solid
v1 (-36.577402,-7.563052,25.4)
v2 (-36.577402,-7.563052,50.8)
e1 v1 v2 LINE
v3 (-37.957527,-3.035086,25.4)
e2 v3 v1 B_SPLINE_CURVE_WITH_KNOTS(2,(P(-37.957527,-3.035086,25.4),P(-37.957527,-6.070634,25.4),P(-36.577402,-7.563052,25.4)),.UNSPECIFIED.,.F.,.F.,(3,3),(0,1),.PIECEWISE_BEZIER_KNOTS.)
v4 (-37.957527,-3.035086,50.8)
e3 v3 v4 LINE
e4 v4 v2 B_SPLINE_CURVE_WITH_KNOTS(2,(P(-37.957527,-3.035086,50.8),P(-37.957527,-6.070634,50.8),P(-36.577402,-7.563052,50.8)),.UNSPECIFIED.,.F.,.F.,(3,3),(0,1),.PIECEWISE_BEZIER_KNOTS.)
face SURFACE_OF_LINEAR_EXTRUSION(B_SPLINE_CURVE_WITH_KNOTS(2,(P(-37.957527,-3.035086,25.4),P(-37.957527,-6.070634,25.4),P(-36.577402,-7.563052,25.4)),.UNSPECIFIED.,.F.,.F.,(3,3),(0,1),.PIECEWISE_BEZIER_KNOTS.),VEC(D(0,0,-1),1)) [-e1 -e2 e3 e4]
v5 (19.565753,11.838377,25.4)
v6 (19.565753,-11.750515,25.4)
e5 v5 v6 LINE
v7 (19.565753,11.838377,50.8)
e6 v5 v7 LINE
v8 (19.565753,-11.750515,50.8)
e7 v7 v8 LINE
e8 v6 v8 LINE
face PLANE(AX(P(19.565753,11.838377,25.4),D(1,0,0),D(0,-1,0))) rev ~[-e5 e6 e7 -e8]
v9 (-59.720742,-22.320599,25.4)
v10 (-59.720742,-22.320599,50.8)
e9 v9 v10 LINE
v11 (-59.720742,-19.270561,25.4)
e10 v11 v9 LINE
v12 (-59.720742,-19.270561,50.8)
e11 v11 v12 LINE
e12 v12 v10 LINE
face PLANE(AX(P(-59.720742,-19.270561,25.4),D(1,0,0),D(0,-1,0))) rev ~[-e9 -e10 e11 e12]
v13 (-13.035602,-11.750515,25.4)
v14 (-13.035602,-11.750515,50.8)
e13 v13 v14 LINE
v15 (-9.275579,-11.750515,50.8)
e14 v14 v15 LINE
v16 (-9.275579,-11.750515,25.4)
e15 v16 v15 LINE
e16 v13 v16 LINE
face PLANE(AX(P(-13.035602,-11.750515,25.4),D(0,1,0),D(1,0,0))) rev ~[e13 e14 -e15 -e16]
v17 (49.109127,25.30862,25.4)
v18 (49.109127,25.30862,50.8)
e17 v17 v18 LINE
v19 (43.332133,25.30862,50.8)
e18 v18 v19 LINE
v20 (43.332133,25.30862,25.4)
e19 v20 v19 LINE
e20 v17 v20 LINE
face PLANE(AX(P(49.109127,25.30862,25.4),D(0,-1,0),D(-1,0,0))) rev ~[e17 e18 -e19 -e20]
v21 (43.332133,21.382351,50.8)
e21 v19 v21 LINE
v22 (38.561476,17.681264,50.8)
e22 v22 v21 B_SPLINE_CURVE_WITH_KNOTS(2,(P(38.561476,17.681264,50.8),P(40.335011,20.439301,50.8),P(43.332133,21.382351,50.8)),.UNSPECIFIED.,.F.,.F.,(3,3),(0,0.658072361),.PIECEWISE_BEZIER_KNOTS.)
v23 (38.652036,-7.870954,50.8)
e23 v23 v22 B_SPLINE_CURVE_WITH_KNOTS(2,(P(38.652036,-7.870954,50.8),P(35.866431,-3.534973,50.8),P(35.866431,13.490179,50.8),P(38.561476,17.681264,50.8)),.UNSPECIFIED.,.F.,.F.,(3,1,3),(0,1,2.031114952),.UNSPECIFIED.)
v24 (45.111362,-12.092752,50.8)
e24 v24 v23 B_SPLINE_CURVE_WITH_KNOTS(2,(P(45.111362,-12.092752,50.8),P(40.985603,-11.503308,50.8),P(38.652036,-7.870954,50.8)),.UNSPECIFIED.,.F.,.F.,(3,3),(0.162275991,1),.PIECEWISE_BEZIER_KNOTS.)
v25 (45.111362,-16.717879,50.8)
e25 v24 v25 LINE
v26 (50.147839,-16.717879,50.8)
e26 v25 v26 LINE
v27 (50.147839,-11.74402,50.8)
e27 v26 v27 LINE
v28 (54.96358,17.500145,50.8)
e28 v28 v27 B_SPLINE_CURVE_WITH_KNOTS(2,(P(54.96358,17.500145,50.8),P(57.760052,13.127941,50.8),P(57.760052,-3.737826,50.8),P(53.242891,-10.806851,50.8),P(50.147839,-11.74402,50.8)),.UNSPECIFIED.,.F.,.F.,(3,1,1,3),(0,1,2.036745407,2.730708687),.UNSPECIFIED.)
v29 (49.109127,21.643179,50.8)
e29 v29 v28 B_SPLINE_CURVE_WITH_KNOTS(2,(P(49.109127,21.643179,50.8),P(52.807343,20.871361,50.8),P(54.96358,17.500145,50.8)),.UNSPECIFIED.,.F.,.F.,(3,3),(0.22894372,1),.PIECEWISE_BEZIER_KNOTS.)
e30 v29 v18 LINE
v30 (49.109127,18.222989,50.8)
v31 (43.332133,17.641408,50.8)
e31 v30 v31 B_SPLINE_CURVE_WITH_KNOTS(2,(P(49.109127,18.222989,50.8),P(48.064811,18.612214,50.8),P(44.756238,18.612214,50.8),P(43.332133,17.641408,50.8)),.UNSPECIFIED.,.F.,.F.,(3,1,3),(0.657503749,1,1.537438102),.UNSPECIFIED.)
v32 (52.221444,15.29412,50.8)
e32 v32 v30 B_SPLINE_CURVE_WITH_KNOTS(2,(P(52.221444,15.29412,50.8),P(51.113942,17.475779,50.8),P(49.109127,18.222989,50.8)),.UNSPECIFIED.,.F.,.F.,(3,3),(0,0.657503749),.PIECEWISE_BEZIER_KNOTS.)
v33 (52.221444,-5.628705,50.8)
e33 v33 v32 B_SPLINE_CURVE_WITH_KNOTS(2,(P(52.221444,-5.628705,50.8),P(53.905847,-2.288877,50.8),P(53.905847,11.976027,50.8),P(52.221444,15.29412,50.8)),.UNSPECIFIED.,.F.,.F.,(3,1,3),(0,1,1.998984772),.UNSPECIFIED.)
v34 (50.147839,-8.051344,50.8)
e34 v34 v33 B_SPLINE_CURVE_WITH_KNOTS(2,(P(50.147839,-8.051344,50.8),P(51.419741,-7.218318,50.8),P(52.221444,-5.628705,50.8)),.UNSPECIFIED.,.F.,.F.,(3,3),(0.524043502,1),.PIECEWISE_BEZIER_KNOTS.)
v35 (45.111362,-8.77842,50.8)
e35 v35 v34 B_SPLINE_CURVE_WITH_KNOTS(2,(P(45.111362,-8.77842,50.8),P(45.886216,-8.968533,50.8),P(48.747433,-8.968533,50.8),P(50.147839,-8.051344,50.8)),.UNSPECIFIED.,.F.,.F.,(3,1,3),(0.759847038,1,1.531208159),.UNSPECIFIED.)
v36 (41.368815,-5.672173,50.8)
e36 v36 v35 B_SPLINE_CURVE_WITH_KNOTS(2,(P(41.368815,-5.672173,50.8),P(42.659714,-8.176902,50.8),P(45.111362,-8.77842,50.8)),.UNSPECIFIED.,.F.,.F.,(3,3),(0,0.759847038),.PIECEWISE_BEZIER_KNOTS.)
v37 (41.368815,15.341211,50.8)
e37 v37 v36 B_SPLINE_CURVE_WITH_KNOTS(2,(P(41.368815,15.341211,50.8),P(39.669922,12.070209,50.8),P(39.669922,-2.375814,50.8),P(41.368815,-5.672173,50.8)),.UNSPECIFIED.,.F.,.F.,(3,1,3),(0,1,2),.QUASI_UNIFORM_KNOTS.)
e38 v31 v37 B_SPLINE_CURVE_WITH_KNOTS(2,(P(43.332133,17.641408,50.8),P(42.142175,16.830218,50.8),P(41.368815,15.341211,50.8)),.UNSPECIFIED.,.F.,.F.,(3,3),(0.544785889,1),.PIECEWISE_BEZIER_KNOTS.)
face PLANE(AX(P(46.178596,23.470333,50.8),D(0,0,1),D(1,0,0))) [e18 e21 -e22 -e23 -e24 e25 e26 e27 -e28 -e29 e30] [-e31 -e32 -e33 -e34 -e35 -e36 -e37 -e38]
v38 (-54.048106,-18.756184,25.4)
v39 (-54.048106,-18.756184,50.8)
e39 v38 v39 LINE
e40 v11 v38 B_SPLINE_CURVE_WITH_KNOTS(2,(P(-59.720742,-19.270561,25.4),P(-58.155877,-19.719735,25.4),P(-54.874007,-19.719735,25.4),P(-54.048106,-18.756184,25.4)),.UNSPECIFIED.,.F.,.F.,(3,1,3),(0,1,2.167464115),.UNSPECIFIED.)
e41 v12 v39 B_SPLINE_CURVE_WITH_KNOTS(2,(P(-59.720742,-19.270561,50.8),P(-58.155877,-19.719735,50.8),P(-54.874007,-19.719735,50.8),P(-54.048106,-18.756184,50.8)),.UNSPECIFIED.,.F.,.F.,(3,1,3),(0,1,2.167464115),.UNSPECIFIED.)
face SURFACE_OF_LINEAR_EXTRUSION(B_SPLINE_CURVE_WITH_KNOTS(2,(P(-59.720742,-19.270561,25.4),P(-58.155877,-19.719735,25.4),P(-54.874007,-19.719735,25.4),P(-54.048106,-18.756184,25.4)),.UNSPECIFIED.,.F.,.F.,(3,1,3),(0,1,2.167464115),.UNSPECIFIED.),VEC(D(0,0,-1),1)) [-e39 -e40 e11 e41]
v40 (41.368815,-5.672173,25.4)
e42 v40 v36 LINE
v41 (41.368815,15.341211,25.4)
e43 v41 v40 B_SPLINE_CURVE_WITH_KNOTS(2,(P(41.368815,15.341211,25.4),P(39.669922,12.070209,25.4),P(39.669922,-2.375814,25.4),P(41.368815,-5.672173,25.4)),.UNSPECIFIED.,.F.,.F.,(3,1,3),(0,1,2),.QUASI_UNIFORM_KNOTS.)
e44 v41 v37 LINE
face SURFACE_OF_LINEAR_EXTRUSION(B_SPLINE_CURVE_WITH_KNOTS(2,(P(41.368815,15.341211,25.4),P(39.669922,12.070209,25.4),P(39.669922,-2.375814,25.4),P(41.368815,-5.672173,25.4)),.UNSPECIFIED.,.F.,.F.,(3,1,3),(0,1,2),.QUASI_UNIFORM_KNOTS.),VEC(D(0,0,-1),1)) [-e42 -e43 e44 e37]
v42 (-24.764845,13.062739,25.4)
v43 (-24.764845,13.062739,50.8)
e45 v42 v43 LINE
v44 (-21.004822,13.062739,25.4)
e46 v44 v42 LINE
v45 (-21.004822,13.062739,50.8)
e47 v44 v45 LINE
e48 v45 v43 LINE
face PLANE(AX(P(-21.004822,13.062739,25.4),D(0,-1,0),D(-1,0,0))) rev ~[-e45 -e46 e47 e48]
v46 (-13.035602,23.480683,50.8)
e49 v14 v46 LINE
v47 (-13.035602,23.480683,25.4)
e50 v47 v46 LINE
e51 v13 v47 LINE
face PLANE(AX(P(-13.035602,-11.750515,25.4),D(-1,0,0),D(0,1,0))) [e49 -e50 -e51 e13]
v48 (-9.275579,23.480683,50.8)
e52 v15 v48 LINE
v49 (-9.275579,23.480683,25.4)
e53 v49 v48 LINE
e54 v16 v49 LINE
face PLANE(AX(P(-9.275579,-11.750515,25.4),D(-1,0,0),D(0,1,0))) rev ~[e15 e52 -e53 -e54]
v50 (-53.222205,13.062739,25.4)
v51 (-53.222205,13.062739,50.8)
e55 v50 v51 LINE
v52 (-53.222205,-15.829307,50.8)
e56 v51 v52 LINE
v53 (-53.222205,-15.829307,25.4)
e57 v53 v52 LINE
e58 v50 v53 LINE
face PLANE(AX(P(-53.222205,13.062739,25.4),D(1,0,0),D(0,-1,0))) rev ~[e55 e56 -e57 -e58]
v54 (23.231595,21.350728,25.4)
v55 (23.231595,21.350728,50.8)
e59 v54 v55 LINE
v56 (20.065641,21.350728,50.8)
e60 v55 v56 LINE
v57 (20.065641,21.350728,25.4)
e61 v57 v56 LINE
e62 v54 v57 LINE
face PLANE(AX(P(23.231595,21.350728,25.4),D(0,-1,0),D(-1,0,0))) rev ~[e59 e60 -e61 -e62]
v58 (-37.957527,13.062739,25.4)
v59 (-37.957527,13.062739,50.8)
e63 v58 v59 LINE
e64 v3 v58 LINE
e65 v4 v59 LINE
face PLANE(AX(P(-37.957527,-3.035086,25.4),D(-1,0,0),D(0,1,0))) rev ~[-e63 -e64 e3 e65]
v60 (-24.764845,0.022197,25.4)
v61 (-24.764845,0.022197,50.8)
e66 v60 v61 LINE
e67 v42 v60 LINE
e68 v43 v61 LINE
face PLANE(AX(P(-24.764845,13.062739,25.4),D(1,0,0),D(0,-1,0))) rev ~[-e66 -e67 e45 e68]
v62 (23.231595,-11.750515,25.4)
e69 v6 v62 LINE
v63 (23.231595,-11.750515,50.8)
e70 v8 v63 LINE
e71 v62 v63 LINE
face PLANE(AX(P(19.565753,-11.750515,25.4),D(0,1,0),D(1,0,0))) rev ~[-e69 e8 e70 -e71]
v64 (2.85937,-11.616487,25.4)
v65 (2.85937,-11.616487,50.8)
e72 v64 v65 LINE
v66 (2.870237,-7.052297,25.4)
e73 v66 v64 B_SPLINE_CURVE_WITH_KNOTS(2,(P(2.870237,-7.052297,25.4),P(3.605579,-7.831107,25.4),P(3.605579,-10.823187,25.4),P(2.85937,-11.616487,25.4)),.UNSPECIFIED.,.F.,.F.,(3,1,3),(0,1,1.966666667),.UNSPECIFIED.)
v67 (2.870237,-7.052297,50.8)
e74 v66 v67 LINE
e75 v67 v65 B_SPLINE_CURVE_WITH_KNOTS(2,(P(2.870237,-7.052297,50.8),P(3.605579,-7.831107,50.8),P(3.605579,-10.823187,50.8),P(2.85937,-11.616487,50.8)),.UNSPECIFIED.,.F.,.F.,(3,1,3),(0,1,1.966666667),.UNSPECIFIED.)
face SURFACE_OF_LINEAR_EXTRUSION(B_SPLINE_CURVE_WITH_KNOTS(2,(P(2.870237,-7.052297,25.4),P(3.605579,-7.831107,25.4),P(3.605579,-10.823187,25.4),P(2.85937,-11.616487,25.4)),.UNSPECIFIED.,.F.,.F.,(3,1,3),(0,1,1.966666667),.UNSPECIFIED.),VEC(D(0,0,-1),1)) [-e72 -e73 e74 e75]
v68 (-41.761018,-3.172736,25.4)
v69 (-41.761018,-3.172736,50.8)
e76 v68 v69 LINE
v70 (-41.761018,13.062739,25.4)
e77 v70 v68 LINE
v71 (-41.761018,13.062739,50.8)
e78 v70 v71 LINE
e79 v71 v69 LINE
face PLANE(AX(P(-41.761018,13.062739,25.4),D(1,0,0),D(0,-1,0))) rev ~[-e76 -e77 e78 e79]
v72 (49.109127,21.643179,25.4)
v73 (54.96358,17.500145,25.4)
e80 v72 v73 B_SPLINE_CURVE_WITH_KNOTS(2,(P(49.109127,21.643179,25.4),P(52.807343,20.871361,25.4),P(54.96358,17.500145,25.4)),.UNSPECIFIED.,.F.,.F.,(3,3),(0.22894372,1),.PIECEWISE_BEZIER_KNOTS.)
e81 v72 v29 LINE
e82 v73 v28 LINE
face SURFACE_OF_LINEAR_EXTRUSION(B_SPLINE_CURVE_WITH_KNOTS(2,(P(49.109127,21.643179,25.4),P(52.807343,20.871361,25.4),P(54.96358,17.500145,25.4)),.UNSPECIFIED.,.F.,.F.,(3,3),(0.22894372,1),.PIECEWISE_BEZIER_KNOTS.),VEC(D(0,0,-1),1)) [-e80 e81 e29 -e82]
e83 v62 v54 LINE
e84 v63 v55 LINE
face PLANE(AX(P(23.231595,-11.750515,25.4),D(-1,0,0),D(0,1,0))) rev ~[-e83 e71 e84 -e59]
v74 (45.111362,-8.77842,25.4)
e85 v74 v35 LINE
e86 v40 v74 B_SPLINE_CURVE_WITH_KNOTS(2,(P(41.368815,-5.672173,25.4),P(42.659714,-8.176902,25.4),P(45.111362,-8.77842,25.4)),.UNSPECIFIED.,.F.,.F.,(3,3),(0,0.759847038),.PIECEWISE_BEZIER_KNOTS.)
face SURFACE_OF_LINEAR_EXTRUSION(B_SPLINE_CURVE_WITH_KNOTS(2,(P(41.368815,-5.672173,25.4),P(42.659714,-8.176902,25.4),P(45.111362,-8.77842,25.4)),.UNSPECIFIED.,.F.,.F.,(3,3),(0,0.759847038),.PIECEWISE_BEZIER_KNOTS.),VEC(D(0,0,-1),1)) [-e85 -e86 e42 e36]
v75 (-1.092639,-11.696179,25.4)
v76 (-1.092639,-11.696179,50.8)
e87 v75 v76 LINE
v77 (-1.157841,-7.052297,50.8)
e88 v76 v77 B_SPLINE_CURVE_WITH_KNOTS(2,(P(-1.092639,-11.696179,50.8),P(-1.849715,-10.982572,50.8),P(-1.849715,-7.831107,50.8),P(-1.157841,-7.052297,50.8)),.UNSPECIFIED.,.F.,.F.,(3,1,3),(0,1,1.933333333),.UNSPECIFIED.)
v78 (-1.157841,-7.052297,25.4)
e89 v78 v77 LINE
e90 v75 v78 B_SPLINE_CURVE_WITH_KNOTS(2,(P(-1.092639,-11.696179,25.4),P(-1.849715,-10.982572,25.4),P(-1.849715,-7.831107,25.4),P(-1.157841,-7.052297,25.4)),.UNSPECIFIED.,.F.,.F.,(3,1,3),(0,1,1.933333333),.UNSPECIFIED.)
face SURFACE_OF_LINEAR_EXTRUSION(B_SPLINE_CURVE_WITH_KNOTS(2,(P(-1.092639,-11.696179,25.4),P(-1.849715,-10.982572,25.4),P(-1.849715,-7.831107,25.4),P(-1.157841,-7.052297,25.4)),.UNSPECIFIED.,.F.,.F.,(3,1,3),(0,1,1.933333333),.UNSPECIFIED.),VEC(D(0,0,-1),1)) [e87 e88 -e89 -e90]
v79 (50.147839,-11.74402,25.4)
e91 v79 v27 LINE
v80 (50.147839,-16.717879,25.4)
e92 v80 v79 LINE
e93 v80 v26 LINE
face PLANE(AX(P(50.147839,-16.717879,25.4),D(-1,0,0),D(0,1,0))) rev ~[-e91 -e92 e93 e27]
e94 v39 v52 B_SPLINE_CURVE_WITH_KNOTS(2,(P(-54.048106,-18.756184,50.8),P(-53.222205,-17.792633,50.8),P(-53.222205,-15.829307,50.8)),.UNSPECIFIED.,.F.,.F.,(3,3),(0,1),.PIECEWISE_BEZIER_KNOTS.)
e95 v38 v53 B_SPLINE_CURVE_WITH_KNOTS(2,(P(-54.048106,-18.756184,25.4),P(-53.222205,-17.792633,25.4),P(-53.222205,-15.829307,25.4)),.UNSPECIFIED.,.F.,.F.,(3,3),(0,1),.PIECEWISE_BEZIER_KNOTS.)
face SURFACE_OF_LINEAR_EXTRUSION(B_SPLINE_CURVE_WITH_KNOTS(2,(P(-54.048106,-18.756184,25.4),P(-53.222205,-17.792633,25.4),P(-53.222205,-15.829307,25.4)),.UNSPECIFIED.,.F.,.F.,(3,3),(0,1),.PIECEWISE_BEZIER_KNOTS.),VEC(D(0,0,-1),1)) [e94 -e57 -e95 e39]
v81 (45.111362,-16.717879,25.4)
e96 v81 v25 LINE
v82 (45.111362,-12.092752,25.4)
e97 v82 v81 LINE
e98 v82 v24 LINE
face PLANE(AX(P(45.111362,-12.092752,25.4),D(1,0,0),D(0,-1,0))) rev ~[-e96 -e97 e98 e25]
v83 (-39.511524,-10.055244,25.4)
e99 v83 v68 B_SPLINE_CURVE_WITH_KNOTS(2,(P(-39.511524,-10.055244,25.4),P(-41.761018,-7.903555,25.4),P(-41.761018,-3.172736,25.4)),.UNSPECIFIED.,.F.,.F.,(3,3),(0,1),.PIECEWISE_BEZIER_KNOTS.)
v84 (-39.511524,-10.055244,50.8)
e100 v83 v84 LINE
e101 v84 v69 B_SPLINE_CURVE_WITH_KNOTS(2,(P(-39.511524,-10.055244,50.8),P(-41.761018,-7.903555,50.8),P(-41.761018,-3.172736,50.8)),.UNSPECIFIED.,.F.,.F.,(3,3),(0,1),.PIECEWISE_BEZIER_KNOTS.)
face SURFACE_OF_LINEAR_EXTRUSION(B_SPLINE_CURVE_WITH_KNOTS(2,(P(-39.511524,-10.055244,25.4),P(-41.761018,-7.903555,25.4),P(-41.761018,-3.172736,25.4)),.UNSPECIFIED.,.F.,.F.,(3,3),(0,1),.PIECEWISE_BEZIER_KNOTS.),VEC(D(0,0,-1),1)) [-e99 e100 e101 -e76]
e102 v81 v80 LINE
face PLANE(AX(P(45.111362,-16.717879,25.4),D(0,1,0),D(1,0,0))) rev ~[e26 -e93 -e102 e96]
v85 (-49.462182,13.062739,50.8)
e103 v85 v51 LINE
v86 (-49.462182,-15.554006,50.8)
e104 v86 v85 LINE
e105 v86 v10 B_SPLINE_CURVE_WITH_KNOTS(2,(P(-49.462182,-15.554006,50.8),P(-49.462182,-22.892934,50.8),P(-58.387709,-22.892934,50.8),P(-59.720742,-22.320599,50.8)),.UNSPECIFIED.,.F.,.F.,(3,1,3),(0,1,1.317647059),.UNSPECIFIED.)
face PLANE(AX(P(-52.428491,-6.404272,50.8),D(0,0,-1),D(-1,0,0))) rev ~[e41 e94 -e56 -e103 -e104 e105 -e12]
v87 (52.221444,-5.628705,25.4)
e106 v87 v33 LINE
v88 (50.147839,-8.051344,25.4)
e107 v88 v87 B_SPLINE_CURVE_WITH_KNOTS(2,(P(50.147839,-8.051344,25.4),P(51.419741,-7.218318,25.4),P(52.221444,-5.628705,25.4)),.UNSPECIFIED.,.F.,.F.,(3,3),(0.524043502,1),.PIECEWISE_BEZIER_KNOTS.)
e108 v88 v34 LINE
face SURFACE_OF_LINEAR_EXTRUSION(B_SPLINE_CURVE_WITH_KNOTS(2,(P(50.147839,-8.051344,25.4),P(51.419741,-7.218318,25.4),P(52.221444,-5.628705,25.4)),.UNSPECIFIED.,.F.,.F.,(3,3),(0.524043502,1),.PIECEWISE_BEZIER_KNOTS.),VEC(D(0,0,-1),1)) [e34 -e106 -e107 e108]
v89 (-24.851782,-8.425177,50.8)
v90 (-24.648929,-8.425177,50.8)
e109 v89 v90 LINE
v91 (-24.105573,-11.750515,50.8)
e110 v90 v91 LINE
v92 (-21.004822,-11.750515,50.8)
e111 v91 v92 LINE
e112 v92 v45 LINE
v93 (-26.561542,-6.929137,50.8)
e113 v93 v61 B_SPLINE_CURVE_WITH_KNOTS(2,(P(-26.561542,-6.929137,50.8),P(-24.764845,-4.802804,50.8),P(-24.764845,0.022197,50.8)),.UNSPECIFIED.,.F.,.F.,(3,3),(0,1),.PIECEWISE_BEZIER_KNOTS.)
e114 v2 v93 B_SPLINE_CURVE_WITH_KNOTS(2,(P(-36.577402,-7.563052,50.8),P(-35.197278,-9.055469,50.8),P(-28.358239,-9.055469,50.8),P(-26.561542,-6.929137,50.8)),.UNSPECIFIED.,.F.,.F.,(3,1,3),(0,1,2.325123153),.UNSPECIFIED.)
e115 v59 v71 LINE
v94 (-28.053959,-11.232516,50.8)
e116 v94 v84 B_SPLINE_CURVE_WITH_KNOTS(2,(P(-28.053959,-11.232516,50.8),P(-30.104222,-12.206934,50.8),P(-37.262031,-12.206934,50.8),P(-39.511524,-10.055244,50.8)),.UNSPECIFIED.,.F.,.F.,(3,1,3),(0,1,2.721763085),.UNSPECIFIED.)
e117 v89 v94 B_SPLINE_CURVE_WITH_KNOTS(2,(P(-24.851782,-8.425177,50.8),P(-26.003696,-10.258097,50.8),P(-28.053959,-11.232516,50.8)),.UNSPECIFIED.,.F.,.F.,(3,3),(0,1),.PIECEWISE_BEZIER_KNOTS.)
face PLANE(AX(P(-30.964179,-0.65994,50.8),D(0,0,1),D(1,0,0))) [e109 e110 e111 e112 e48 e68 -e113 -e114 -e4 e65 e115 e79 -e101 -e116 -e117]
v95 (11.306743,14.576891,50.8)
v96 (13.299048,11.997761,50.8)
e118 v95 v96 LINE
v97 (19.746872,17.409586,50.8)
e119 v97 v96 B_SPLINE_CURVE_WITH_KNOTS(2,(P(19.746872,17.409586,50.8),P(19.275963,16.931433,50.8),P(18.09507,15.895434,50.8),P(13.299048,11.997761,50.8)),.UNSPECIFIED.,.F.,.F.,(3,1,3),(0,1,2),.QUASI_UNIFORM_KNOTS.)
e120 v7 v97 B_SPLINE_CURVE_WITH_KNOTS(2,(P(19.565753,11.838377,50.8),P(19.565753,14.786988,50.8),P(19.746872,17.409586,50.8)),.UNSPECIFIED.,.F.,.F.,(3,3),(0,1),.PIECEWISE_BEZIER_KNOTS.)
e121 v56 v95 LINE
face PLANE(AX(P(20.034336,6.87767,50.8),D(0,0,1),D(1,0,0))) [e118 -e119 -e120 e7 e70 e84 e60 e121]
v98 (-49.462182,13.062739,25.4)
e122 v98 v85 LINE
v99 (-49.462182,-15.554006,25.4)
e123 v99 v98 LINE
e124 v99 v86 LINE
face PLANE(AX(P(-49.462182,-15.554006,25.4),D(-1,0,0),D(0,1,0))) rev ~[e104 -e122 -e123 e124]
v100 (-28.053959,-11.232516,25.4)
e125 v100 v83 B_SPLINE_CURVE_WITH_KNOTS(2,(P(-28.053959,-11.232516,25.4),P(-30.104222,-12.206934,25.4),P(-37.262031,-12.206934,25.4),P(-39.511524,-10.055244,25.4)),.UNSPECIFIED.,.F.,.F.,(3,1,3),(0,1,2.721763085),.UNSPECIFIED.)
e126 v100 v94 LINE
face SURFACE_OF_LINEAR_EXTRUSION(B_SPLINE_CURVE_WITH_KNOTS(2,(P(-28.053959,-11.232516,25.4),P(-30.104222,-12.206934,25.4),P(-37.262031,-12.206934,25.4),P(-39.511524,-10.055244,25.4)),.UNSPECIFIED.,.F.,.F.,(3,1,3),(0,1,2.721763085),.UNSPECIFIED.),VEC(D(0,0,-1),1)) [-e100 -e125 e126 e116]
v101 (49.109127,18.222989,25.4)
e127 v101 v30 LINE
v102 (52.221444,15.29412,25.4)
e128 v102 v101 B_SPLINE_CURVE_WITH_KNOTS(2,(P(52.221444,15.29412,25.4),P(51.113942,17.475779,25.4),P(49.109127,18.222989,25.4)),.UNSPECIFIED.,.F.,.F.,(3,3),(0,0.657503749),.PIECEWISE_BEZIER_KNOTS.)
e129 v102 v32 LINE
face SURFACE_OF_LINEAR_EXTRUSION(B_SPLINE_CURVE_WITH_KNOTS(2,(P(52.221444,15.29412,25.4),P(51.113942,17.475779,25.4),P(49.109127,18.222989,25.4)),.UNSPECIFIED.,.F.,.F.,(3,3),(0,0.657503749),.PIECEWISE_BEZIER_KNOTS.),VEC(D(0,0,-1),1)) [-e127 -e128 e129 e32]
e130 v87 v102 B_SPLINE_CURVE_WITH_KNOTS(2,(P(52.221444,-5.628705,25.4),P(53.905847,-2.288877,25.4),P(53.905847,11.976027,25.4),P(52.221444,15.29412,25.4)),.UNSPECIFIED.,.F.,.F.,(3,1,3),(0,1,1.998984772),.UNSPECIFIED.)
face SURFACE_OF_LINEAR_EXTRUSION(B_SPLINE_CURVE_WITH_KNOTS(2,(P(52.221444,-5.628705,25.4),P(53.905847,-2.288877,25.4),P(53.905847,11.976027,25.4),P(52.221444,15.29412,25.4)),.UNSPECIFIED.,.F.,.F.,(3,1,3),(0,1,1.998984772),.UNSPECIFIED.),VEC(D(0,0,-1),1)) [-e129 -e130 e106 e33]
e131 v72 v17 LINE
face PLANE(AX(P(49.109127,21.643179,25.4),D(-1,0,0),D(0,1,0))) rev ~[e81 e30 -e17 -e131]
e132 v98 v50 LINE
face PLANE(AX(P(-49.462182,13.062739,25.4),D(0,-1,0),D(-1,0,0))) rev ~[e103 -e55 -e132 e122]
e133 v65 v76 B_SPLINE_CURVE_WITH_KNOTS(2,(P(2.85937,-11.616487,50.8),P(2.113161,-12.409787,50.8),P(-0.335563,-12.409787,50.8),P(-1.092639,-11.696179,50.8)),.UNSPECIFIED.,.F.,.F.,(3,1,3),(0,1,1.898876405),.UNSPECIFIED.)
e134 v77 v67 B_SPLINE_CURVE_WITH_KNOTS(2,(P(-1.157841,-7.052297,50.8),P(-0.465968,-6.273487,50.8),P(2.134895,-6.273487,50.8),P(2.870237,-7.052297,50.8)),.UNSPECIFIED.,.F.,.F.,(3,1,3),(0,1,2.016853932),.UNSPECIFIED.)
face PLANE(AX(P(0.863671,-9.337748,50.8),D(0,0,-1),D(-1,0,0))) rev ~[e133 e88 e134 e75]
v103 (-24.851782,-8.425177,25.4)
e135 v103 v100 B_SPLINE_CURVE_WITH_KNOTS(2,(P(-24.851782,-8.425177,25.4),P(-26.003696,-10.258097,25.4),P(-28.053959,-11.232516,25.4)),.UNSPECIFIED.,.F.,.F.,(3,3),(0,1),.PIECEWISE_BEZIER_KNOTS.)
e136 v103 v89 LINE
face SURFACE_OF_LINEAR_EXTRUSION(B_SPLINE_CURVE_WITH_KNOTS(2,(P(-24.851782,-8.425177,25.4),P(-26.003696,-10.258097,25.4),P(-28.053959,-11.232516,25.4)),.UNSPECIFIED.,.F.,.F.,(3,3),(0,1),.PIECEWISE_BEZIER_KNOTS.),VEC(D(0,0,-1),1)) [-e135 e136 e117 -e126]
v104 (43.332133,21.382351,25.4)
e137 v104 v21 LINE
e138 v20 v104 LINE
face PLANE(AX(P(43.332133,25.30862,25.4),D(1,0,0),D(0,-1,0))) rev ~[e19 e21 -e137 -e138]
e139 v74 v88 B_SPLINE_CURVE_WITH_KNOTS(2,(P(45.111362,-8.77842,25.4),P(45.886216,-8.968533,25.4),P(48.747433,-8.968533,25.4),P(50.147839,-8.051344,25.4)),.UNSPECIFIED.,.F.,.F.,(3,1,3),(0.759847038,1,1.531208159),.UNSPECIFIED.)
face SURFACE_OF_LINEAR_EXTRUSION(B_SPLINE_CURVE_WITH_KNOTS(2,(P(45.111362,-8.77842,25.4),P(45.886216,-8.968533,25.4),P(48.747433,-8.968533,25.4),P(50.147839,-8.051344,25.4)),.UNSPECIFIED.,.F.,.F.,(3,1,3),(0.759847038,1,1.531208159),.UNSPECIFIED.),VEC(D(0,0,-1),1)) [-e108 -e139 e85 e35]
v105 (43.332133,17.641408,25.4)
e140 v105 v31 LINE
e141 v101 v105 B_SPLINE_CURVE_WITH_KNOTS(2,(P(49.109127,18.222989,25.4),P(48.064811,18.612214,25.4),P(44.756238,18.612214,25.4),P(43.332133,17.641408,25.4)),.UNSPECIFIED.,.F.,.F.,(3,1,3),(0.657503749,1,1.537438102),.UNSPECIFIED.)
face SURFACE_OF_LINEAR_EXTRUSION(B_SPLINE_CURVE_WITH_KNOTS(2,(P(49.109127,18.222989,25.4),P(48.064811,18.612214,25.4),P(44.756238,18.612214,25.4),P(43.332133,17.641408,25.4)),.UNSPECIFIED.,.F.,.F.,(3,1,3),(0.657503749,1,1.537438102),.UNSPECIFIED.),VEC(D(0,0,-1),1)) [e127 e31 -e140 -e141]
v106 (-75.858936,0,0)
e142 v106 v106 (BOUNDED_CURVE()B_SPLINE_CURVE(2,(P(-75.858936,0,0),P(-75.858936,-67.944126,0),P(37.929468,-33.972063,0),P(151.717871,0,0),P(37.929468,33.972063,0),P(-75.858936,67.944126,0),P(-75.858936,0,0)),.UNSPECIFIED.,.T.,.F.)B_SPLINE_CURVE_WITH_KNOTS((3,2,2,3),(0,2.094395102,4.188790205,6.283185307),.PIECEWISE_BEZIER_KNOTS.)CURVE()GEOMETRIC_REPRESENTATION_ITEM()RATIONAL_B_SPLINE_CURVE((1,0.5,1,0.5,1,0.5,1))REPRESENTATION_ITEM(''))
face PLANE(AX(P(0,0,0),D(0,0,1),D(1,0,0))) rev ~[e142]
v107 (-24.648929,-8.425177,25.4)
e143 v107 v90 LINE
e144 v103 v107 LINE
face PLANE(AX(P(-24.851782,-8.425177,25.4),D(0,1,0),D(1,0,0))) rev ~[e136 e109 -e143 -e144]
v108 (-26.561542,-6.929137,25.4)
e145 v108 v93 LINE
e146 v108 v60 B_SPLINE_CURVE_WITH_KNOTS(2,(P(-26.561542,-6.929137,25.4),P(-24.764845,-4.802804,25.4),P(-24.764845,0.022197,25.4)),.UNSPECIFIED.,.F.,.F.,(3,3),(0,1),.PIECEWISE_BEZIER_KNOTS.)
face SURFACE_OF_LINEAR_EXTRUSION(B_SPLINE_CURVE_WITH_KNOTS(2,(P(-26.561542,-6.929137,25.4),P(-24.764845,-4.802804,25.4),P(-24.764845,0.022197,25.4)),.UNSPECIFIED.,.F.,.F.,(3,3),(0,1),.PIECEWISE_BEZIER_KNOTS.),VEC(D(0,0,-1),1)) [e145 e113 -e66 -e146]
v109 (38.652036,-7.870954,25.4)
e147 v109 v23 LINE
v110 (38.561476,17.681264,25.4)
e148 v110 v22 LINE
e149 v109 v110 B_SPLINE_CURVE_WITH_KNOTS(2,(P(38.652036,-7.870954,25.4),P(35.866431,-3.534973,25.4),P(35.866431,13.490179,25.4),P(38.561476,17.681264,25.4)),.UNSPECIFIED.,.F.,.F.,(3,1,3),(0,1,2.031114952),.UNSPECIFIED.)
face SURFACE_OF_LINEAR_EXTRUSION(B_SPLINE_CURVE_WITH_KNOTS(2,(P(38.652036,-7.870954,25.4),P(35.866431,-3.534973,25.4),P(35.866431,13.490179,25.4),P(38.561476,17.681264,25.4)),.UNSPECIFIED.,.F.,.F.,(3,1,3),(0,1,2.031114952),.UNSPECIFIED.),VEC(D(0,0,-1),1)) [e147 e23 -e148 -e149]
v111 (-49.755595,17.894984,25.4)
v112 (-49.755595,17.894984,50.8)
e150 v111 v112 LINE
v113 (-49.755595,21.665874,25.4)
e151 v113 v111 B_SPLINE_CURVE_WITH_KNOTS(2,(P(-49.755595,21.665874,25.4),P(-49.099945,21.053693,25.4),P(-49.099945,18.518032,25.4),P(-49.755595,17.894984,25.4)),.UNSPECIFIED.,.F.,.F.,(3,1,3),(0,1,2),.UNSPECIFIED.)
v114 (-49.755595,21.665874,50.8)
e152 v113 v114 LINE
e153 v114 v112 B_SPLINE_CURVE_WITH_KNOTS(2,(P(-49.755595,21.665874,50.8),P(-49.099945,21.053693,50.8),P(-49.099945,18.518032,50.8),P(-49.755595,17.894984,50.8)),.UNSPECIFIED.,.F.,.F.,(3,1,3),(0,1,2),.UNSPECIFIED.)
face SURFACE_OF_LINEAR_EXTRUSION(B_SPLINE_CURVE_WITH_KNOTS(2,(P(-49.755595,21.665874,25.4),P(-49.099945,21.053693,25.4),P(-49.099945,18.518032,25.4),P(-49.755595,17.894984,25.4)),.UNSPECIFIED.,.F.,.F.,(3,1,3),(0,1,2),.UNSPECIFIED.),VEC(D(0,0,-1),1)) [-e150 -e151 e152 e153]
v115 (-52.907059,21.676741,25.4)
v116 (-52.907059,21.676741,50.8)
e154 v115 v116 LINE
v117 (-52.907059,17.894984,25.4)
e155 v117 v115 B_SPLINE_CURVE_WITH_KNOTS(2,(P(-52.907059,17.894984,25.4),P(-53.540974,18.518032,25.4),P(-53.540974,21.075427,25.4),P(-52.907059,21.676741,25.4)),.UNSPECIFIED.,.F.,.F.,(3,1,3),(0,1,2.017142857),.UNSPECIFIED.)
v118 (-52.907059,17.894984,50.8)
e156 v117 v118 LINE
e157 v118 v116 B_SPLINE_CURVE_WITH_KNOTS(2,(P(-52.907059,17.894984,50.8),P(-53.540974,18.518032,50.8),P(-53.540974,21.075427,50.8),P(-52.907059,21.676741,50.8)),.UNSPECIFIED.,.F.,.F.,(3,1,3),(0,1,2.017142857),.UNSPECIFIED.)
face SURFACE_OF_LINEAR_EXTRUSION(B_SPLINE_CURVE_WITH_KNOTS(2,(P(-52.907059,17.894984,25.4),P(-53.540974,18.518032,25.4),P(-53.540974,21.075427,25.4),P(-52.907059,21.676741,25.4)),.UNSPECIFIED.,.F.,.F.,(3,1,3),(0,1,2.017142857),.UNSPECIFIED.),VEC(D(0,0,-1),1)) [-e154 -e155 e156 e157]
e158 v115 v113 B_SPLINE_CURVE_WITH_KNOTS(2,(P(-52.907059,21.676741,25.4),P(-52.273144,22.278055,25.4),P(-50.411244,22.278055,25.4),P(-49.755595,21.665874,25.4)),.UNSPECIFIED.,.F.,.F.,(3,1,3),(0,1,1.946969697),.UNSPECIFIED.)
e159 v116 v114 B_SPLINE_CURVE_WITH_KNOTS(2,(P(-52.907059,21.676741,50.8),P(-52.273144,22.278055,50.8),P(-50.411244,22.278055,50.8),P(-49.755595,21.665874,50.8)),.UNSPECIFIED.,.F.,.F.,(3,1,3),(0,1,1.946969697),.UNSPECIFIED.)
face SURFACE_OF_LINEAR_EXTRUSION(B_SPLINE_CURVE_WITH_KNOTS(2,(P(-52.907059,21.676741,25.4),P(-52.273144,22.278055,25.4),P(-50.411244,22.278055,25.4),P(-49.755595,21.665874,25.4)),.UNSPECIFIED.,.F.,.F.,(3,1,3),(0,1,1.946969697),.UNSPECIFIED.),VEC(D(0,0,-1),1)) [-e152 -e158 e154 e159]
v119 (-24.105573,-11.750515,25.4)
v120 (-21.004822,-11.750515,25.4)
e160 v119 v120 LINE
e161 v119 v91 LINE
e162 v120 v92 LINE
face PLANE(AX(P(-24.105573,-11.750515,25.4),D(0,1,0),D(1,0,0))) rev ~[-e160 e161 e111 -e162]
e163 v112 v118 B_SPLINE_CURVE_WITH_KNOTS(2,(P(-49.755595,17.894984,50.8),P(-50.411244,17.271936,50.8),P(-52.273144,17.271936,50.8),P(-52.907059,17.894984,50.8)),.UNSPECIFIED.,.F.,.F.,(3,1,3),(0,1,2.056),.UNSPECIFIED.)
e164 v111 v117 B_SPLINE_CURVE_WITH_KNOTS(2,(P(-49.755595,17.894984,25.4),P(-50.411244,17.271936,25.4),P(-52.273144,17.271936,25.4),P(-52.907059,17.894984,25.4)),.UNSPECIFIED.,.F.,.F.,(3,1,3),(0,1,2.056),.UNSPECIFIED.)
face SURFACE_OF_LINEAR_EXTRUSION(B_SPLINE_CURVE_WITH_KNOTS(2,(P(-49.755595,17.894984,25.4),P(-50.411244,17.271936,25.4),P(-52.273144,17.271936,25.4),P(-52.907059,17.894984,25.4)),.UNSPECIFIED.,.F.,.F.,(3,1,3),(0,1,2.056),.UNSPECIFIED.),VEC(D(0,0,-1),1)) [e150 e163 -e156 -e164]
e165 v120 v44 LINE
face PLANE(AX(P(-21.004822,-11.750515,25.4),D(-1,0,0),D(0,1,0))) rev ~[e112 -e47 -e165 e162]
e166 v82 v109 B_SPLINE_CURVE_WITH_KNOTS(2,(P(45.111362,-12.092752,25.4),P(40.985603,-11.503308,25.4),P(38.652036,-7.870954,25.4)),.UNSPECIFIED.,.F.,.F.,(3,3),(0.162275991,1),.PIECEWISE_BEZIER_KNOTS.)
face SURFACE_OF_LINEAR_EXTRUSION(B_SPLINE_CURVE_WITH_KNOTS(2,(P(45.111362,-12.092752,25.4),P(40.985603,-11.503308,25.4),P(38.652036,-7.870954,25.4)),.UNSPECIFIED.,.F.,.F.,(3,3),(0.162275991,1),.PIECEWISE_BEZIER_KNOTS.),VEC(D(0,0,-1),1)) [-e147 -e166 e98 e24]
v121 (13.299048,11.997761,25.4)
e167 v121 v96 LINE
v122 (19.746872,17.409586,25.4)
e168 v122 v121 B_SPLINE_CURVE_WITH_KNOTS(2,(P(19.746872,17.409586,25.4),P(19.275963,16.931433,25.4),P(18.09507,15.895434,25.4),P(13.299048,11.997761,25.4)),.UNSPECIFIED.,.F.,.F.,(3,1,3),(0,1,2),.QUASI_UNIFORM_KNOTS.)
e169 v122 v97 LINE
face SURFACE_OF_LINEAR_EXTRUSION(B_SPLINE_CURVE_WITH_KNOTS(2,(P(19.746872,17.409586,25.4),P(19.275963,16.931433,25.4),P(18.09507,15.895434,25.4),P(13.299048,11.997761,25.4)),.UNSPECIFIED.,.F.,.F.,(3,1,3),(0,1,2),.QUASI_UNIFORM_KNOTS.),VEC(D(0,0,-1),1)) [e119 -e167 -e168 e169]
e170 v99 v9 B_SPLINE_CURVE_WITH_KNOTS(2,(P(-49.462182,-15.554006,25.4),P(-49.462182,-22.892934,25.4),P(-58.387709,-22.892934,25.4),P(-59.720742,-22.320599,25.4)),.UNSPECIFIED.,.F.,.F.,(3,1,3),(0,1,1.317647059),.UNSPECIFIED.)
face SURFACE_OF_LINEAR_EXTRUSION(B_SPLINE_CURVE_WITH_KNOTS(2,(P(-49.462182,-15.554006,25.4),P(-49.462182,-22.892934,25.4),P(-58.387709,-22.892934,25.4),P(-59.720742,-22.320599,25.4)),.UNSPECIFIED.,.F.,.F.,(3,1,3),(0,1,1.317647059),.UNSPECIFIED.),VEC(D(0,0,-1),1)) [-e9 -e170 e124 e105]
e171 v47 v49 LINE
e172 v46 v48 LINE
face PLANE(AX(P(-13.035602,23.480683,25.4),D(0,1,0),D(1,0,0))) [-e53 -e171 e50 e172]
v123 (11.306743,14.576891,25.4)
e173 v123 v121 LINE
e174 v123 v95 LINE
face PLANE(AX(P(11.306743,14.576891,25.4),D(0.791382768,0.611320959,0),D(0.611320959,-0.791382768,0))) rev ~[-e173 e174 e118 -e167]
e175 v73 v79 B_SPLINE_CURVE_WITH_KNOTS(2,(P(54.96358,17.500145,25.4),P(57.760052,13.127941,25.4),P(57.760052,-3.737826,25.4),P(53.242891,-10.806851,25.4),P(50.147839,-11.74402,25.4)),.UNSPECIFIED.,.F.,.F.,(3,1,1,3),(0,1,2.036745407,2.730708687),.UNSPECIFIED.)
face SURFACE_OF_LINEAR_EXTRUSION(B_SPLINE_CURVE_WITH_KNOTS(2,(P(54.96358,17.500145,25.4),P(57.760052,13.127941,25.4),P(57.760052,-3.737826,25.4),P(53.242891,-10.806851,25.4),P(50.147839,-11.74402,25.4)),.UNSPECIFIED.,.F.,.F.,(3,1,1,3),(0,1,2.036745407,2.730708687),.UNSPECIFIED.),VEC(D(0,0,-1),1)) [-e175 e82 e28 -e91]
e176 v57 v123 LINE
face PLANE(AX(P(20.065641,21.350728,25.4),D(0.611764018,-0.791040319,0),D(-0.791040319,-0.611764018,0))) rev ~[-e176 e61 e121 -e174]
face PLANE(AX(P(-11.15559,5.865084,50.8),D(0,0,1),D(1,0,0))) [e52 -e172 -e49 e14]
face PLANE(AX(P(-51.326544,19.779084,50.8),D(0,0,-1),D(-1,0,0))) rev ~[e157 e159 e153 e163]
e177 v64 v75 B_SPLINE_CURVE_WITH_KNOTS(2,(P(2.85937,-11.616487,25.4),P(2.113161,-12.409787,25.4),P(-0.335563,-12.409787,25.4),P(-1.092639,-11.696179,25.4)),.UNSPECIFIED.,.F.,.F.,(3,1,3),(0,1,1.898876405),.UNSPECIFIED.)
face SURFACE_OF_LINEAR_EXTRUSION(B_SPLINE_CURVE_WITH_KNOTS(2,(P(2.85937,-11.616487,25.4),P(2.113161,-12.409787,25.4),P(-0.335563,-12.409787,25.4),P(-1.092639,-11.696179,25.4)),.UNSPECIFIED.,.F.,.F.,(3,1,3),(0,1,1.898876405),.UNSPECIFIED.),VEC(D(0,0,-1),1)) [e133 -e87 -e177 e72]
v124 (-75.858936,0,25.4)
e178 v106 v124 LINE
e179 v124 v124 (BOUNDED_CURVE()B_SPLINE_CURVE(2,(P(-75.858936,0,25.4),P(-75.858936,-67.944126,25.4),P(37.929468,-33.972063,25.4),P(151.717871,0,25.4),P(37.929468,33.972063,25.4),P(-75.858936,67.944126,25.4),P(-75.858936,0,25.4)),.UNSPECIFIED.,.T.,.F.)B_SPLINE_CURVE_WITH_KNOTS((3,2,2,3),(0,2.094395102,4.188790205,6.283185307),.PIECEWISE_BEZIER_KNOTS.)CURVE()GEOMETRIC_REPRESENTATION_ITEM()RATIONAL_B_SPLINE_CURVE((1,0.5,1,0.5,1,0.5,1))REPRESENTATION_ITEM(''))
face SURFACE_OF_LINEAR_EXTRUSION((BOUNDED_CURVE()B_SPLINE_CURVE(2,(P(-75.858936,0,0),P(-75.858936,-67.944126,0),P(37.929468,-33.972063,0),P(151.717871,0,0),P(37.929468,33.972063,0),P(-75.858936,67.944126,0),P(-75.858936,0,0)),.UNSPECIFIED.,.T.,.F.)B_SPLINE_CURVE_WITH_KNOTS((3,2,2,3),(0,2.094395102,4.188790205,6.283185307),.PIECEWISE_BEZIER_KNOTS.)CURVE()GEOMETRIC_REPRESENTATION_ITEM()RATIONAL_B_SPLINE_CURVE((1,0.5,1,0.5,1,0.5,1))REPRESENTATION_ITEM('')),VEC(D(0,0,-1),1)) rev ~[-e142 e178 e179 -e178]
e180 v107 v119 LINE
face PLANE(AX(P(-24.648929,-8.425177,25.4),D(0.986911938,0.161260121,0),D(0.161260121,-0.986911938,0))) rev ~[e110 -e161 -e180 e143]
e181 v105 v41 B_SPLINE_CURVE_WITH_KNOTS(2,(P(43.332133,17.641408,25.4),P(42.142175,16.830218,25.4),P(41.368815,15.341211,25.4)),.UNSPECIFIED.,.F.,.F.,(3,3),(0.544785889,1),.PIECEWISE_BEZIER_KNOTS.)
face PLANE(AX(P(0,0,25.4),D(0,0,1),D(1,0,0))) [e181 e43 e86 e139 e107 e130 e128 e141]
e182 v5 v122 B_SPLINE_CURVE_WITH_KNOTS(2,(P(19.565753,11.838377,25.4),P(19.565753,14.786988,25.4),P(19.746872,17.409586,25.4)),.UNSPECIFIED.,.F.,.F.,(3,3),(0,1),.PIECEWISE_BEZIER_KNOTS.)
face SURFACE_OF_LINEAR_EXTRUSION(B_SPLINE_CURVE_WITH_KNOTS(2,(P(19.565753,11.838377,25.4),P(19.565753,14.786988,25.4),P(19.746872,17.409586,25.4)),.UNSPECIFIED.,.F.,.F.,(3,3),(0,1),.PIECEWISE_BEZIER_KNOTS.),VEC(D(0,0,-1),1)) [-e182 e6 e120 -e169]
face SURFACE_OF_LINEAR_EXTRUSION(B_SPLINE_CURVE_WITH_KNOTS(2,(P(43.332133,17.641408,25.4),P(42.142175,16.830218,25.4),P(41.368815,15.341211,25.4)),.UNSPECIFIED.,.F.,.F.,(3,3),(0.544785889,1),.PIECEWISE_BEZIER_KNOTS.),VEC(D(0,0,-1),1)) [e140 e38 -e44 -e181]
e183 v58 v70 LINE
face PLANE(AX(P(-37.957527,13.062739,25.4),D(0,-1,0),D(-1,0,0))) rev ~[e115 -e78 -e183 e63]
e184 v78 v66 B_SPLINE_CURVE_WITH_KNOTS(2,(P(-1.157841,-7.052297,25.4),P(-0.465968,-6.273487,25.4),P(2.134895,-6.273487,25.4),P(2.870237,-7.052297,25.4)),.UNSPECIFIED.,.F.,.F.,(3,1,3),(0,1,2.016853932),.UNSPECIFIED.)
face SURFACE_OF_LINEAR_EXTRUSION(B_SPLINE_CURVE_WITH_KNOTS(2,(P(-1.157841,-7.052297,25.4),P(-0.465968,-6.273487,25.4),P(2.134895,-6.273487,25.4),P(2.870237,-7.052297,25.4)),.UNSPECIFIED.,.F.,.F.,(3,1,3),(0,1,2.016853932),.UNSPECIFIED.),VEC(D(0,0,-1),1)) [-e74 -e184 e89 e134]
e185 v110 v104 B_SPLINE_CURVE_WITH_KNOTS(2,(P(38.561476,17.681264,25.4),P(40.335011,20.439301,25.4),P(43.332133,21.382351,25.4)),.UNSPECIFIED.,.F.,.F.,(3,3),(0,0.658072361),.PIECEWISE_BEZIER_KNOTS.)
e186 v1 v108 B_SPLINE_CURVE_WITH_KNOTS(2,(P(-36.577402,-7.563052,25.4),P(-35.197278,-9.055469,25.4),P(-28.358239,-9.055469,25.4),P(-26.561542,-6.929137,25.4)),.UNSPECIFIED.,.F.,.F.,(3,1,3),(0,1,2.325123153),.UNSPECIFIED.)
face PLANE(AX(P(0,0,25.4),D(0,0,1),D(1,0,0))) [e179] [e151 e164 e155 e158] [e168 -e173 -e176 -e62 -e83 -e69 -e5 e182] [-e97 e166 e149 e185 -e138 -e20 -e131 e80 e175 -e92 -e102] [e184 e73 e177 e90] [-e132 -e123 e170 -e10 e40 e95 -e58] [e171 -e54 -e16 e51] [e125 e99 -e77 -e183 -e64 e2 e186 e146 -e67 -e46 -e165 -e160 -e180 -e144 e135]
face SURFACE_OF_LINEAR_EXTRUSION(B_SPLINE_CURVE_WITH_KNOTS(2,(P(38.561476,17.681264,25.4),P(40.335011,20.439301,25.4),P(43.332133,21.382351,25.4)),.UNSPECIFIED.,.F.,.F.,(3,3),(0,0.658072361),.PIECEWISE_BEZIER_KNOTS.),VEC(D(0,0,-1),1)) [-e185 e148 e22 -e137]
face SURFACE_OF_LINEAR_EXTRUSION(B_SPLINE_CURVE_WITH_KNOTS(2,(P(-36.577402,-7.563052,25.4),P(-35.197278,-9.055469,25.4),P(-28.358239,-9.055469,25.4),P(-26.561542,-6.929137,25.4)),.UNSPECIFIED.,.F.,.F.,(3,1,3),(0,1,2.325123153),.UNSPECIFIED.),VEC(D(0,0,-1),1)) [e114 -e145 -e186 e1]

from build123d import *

# Parameters (mm, degrees)
F1_DEPTH = 25.4
F2_W     = 3.7600229511
F2_H     = 35.2311977096
F3_DEPTH = 25.4


with BuildPart() as f1:
    # F0 (on Top) → F1 (new body)
    with BuildSketch(Plane.XY):
        with BuildLine():
            add(Edge.make_bspline(
                [(-75.8589357138, 0), (-75.8589357138, -67.9441261937), (37.9294678569, -33.9720630968), (151.7178714275, 0), (37.9294678569, 33.9720630968), (-75.8589357138, 67.9441261937), (-75.8589357138, 0)],
                knots=[0, 0, 0, 2.0943951024, 2.0943951024, 4.1887902048, 4.1887902048, 6.2831853072, 6.2831853072, 6.2831853072], degree=2, weights=[1, 0.5, 1, 0.5, 1, 0.5, 1]))
        make_face()
    extrude(amount=F1_DEPTH)

    # F2 (on face) → F3 (join)
    with BuildSketch(Plane.XY.offset(25.4)):
        with BuildLine():
            Line((49.1091273725, 25.3086201847), (43.3321334422, 25.3086201847))
            Line((43.3321334422, 25.3086201847), (43.3321334422, 21.3823506841))
            add(Edge.make_bspline(
                [(43.3321334422, 21.3823506841), (44.8894074559, 21.8723493721), (46.7770176638, 21.8723493721)],
                knots=[0.6580723607, 0.6580723607, 0.6580723607, 1, 1, 1], degree=2))
            add(Edge.make_bspline(
                [(46.7770176638, 21.8723493721), (48.0110450801, 21.8723493721), (49.1091273725, 21.6431793101)],
                knots=[0, 0, 0, 0.2289437199, 0.2289437199, 0.2289437199], degree=2))
            Line((49.1091273725, 21.6431793101), (49.1091273725, 25.3086201847))
        make_face()
        with BuildLine():
            add(Edge.make_bspline(
                [(43.3321334422, 21.3823506841), (44.8894074559, 21.8723493721), (46.7770176638, 21.8723493721)],
                knots=[0.6580723607, 0.6580723607, 0.6580723607, 1, 1, 1], degree=2))
            Line((43.3321334422, 21.3823506841), (43.3321334422, 17.641407551))
            add(Edge.make_bspline(
                [(46.7770176638, 18.6122138653), (44.7562380644, 18.6122138653), (43.3321334422, 17.641407551)],
                knots=[0, 0, 0, 0.5447858889, 0.5447858889, 0.5447858889], degree=2))
            add(Edge.make_bspline(
                [(49.1091273725, 18.2229892834), (48.0648114294, 18.6122138653), (46.7770176638, 18.6122138653)],
                knots=[0.6575037487, 0.6575037487, 0.6575037487, 1, 1, 1], degree=2))
            Line((49.1091273725, 18.2229892834), (49.1091273725, 21.6431793101))
            add(Edge.make_bspline(
                [(46.7770176638, 21.8723493721), (48.0110450801, 21.8723493721), (49.1091273725, 21.6431793101)],
                knots=[0, 0, 0, 0.2289437199, 0.2289437199, 0.2289437199], degree=2))
        make_face()
        with BuildLine():
            Line((43.3321334422, 17.641407551), (43.3321334422, 21.3823506841))
            add(Edge.make_bspline(
                [(38.5614761868, 17.6812640595), (40.3350110439, 20.4393014649), (43.3321334422, 21.3823506841)],
                knots=[0, 0, 0, 0.6580723607, 0.6580723607, 0.6580723607], degree=2))
            add(Edge.make_bspline(
                [(35.8664308346, 4.8471972813), (35.8664308346, 13.490178747), (38.5614761868, 17.6812640595)],
                knots=[0, 0, 0, 1, 1, 1], degree=2))
            add(Edge.make_bspline(
                [(38.6520355065, -7.8709535678), (35.8664308346, -3.5349733438), (35.8664308346, 4.8471972813)],
                knots=[0, 0, 0, 1, 1, 1], degree=2))
            add(Edge.make_bspline(
                [(45.111361891, -12.0927522689), (40.9856034206, -11.5033083055), (38.6520355065, -7.8709535678)],
                knots=[0.1622759907, 0.1622759907, 0.1622759907, 1, 1, 1], degree=2))
            Line((45.111361891, -12.0927522689), (45.111361891, -8.7784201274))
            add(Edge.make_bspline(
                [(41.3688150954, -5.6721732871), (42.6597137841, -8.1769020861), (45.111361891, -8.7784201274)],
                knots=[0, 0, 0, 0.7598470375, 0.7598470375, 0.7598470375], degree=2))
            add(Edge.make_bspline(
                [(39.6699222591, 4.8471972813), (39.6699222591, -2.3758140525), (41.3688150954, -5.6721732871)],
                knots=[0, 0, 0, 1, 1, 1], degree=2))
            add(Edge.make_bspline(
                [(41.3688150954, 15.3412112402), (39.6699222591, 12.0702086151), (39.6699222591, 4.8471972813)],
                knots=[0, 0, 0, 1, 1, 1], degree=2))
            add(Edge.make_bspline(
                [(43.3321334422, 17.641407551), (42.1421750878, 16.8302177928), (41.3688150954, 15.3412112402)],
                knots=[0.5447858889, 0.5447858889, 0.5447858889, 1, 1, 1], degree=2))
        make_face()
        with BuildLine():
            add(Edge.make_bspline(
                [(49.1091273725, 21.6431793101), (52.8073430224, 20.8713607354), (54.9635801585, 17.5001454202)],
                knots=[0.2289437199, 0.2289437199, 0.2289437199, 1, 1, 1], degree=2))
            Line((49.1091273725, 21.6431793101), (49.1091273725, 18.2229892834))
            add(Edge.make_bspline(
                [(52.2214439601, 15.294120394), (51.1139424464, 17.4757792899), (49.1091273725, 18.2229892834)],
                knots=[0, 0, 0, 0.6575037487, 0.6575037487, 0.6575037487], degree=2))
            add(Edge.make_bspline(
                [(53.9058473052, 4.8471972813), (53.9058473052, 11.9760269227), (52.2214439601, 15.294120394)],
                knots=[0, 0, 0, 1, 1, 1], degree=2))
            add(Edge.make_bspline(
                [(52.2214439601, -5.6287048137), (53.9058473052, -2.2888771057), (53.9058473052, 4.8471972813)],
                knots=[0, 0, 0, 1, 1, 1], degree=2))
            add(Edge.make_bspline(
                [(50.1478388906, -8.0513437212), (51.4197412419, -7.2183175151), (52.2214439601, -5.6287048137)],
                knots=[0.5240435015, 0.5240435015, 0.5240435015, 1, 1, 1], degree=2))
            Line((50.1478388906, -8.0513437212), (50.1478388906, -11.7440203937))
            add(Edge.make_bspline(
                [(55.0541394782, -7.9723800058), (53.2428906583, -10.8068510506), (50.1478388906, -11.7440203937)],
                knots=[0, 0, 0, 0.6693671135, 0.6693671135, 0.6693671135], degree=2))
            add(Edge.make_bspline(
                [(57.7600519488, 4.8471972813), (57.7600519488, -3.7378262198), (55.0541394782, -7.9723800058)],
                knots=[0, 0, 0, 1, 1, 1], degree=2))
            add(Edge.make_bspline(
                [(54.9635801585, 17.5001454202), (57.7600519488, 13.1279414684), (57.7600519488, 4.8471972813)],
                knots=[0, 0, 0, 1, 1, 1], degree=2))
        make_face()
        with BuildLine():
            add(Edge.make_bspline(
                [(46.7770176638, -12.2069337918), (45.9105648929, -12.2069337918), (45.111361891, -12.0927522689)],
                knots=[0, 0, 0, 0.1622759907, 0.1622759907, 0.1622759907], degree=2))
            Line((45.111361891, -12.0927522689), (45.111361891, -16.7178791016))
            Line((45.111361891, -16.7178791016), (50.1478388906, -16.7178791016))
            Line((50.1478388906, -16.7178791016), (50.1478388906, -11.7440203937))
            add(Edge.make_bspline(
                [(50.1478388906, -11.7440203937), (48.6190426903, -12.2069337918), (46.7770176638, -12.2069337918)],
                knots=[0.6693671135, 0.6693671135, 0.6693671135, 1, 1, 1], degree=2))
        make_face()
        with BuildLine():
            Line((45.111361891, -8.7784201274), (45.111361891, -12.0927522689))
            add(Edge.make_bspline(
                [(46.7770176638, -12.2069337918), (45.9105648929, -12.2069337918), (45.111361891, -12.0927522689)],
                knots=[0, 0, 0, 0.1622759907, 0.1622759907, 0.1622759907], degree=2))
            add(Edge.make_bspline(
                [(50.1478388906, -11.7440203937), (48.6190426903, -12.2069337918), (46.7770176638, -12.2069337918)],
                knots=[0.6693671135, 0.6693671135, 0.6693671135, 1, 1, 1], degree=2))
            Line((50.1478388906, -11.7440203937), (50.1478388906, -8.0513437212))
            add(Edge.make_bspline(
                [(46.7770176638, -8.9685325217), (48.747433257, -8.9685325217), (50.1478388906, -8.0513437212)],
                knots=[0, 0, 0, 0.5240435015, 0.5240435015, 0.5240435015], degree=2))
            add(Edge.make_bspline(
                [(45.111361891, -8.7784201274), (45.8862159429, -8.9685325217), (46.7770176638, -8.9685325217)],
                knots=[0.7598470375, 0.7598470375, 0.7598470375, 1, 1, 1], degree=2))
        make_face()
        with BuildLine():
            add(Edge.make_bspline(
                [(-56.2360196037, -22.8929335083), (-58.3877090382, -22.8929335083), (-59.7207422232, -22.3205986082)],
                knots=[0, 0, 0, 1, 1, 1], degree=2))
            add(Edge.make_bspline(
                [(-49.4621824953, -15.5540062454), (-49.4621824953, -22.8929335083), (-56.2360196037, -22.8929335083)],
                knots=[0, 0, 0, 1, 1, 1], degree=2))
            Line((-49.4621824953, -15.5540062454), (-49.4621824953, 13.0627387583))
            Line((-49.4621824953, 13.0627387583), (-53.2222054464, 13.0627387583))
            Line((-53.2222054464, 13.0627387583), (-53.2222054464, -15.829306577))
            add(Edge.make_bspline(
                [(-54.0481064414, -18.7561837875), (-53.2222054464, -17.7926326267), (-53.2222054464, -15.829306577)],
                knots=[0, 0, 0, 1, 1, 1], degree=2))
            add(Edge.make_bspline(
                [(-56.6417253557, -19.7197349484), (-54.8740074365, -19.7197349484), (-54.0481064414, -18.7561837875)],
                knots=[0, 0, 0, 1, 1, 1], degree=2))
            add(Edge.make_bspline(
                [(-59.7207422232, -19.270560723), (-58.1558771799, -19.7197349484), (-56.6417253557, -19.7197349484)],
                knots=[0, 0, 0, 1, 1, 1], degree=2))
            Line((-59.7207422232, -19.270560723), (-59.7207422232, -22.3205986082))
        make_face()
        with BuildLine():
            add(Edge.make_bspline(
                [(-53.5409742515, 19.7858626478), (-53.5409742515, 21.0754273593), (-52.9070590141, 21.6767412417)],
                knots=[0, 0, 0, 1, 1, 1], degree=2))
            add(Edge.make_bspline(
                [(-52.9070590141, 17.8949840538), (-53.5409742515, 18.5180321729), (-53.5409742515, 19.7858626478)],
                knots=[0, 0, 0, 1, 1, 1], degree=2))
            add(Edge.make_bspline(
                [(-51.3168373613, 17.2719359348), (-52.2731437766, 17.2719359348), (-52.9070590141, 17.8949840538)],
                knots=[0, 0, 0, 1, 1, 1], degree=2))
            add(Edge.make_bspline(
                [(-49.7555946909, 17.8949840538), (-50.411244165, 17.2719359348), (-51.3168373613, 17.2719359348)],
                knots=[0, 0, 0, 1, 1, 1], degree=2))
            add(Edge.make_bspline(
                [(-49.0999452167, 19.7858626478), (-49.0999452167, 18.5180321729), (-49.7555946909, 17.8949840538)],
                knots=[0, 0, 0, 1, 1, 1], degree=2))
            add(Edge.make_bspline(
                [(-49.7555946909, 21.6658741233), (-49.0999452167, 21.0536931226), (-49.0999452167, 19.7858626478)],
                knots=[0, 0, 0, 1, 1, 1], degree=2))
            add(Edge.make_bspline(
                [(-51.3168373613, 22.278055124), (-50.411244165, 22.278055124), (-49.7555946909, 21.6658741233)],
                knots=[0, 0, 0, 1, 1, 1], degree=2))
            add(Edge.make_bspline(
                [(-52.9070590141, 21.6767412417), (-52.2731437766, 22.278055124), (-51.3168373613, 22.278055124)],
                knots=[0, 0, 0, 1, 1, 1], degree=2))
        make_face()
        with BuildLine():
            Line((-37.9575265293, -3.0350858995), (-37.9575265293, 13.0627387583))
            Line((-37.9575265293, 13.0627387583), (-41.7610179538, 13.0627387583))
            Line((-41.7610179538, 13.0627387583), (-41.7610179538, -3.1727360653))
            add(Edge.make_bspline(
                [(-39.5115244541, -10.0552443573), (-41.7610179538, -7.9035549229), (-41.7610179538, -3.1727360653)],
                knots=[0, 0, 0, 1, 1, 1], degree=2))
            add(Edge.make_bspline(
                [(-32.7340649729, -12.2069337918), (-37.2620309545, -12.2069337918), (-39.5115244541, -10.0552443573)],
                knots=[0, 0, 0, 1, 1, 1], degree=2))
            add(Edge.make_bspline(
                [(-28.0539593343, -11.2325155125), (-30.1042223308, -12.2069337918), (-32.7340649729, -12.2069337918)],
                knots=[0, 0, 0, 1, 1, 1], degree=2))
            add(Edge.make_bspline(
                [(-24.8517817921, -8.4251766039), (-26.0036963379, -10.2580972333), (-28.0539593343, -11.2325155125)],
                knots=[0, 0, 0, 1, 1, 1], degree=2))
            Line((-24.8517817921, -8.4251766039), (-24.6489289162, -8.4251766039))
            Line((-24.6489289162, -8.4251766039), (-24.1055729984, -11.7505148208))
            Line((-24.1055729984, -11.7505148208), (-21.0048218942, -11.7505148208))
            Line((-21.0048218942, -11.7505148208), (-21.0048218942, 13.0627387583))
            Line((-21.0048218942, 13.0627387583), (-24.7648448453, 13.0627387583))
            Line((-24.7648448453, 13.0627387583), (-24.7648448453, 0.0221967313))
            add(Edge.make_bspline(
                [(-26.5615417468, -6.9291366436), (-24.7648448453, -4.8028038187), (-24.7648448453, 0.0221967313)],
                knots=[0, 0, 0, 1, 1, 1], degree=2))
            add(Edge.make_bspline(
                [(-32.2559117652, -9.0554694686), (-28.3582386483, -9.0554694686), (-26.5615417468, -6.9291366436)],
                knots=[0, 0, 0, 1, 1, 1], degree=2))
            add(Edge.make_bspline(
                [(-36.5774024981, -7.563051881), (-35.1972784669, -9.0554694686), (-32.2559117652, -9.0554694686)],
                knots=[0, 0, 0, 1, 1, 1], degree=2))
            add(Edge.make_bspline(
                [(-37.9575265293, -3.0350858995), (-37.9575265293, -6.0706342935), (-36.5774024981, -7.563051881)],
                knots=[0, 0, 0, 1, 1, 1], degree=2))
        make_face()
        with Locations((-11.155590291, 5.865084034)):
            Rectangle(F2_W, F2_H)
        with BuildLine():
            add(Edge.make_bspline(
                [(-1.8497146057, -9.352504037), (-1.8497146057, -7.8311074672), (-1.1578414037, -7.0522973183)],
                knots=[0, 0, 0, 1, 1, 1], degree=2))
            add(Edge.make_bspline(
                [(-1.0926386935, -11.696179229), (-1.8497146057, -10.9825717903), (-1.8497146057, -9.352504037)],
                knots=[0, 0, 0, 1, 1, 1], degree=2))
            add(Edge.make_bspline(
                [(0.8235965099, -12.4097866677), (-0.3355627814, -12.4097866677), (-1.0926386935, -11.696179229)],
                knots=[0, 0, 0, 1, 1, 1], degree=2))
            add(Edge.make_bspline(
                [(2.8593700152, -11.6164870278), (2.1131612214, -12.4097866677), (0.8235965099, -12.4097866677)],
                knots=[0, 0, 0, 1, 1, 1], degree=2))
            add(Edge.make_bspline(
                [(3.605578809, -9.352504037), (3.605578809, -10.8231873878), (2.8593700152, -11.6164870278)],
                knots=[0, 0, 0, 1, 1, 1], degree=2))
            add(Edge.make_bspline(
                [(2.8702371335, -7.0522973183), (3.605578809, -7.8311074672), (3.605578809, -9.352504037)],
                knots=[0, 0, 0, 1, 1, 1], degree=2))
            add(Edge.make_bspline(
                [(0.8235965099, -6.2734871695), (2.1348954581, -6.2734871695), (2.8702371335, -7.0522973183)],
                knots=[0, 0, 0, 1, 1, 1], degree=2))
            add(Edge.make_bspline(
                [(-1.1578414037, -7.0522973183), (-0.4659682017, -6.2734871695), (0.8235965099, -6.2734871695)],
                knots=[0, 0, 0, 1, 1, 1], degree=2))
        make_face()
        with BuildLine():
            Line((19.5657533009, -11.7505148208), (23.2315945596, -11.7505148208))
            Line((23.2315945596, -11.7505148208), (23.2315945596, 21.350727691))
            Line((23.2315945596, 21.350727691), (20.0656407452, 21.350727691))
            Line((20.0656407452, 21.350727691), (11.3067433504, 14.5768905825))
            Line((11.3067433504, 14.5768905825), (13.2990483823, 11.9977611594))
            add(Edge.make_bspline(
                [(18.685516714, 16.4134335847), (18.09506995, 15.8954342764), (13.2990483823, 11.9977611594)],
                knots=[0, 0, 0, 1, 1, 1], degree=2))
            add(Edge.make_bspline(
                [(19.7468719401, 17.4095861006), (19.275963478, 16.931432893), (18.685516714, 16.4134335847)],
                knots=[0, 0, 0, 1, 1, 1], degree=2))
            add(Edge.make_bspline(
                [(19.5657533009, 11.8383767569), (19.5657533009, 14.7869882041), (19.7468719401, 17.4095861006)],
                knots=[0, 0, 0, 1, 1, 1], degree=2))
            Line((19.5657533009, 11.8383767569), (19.5657533009, -11.7505148208))
        make_face()
    extrude(amount=F3_DEPTH)


solid = f1.part
